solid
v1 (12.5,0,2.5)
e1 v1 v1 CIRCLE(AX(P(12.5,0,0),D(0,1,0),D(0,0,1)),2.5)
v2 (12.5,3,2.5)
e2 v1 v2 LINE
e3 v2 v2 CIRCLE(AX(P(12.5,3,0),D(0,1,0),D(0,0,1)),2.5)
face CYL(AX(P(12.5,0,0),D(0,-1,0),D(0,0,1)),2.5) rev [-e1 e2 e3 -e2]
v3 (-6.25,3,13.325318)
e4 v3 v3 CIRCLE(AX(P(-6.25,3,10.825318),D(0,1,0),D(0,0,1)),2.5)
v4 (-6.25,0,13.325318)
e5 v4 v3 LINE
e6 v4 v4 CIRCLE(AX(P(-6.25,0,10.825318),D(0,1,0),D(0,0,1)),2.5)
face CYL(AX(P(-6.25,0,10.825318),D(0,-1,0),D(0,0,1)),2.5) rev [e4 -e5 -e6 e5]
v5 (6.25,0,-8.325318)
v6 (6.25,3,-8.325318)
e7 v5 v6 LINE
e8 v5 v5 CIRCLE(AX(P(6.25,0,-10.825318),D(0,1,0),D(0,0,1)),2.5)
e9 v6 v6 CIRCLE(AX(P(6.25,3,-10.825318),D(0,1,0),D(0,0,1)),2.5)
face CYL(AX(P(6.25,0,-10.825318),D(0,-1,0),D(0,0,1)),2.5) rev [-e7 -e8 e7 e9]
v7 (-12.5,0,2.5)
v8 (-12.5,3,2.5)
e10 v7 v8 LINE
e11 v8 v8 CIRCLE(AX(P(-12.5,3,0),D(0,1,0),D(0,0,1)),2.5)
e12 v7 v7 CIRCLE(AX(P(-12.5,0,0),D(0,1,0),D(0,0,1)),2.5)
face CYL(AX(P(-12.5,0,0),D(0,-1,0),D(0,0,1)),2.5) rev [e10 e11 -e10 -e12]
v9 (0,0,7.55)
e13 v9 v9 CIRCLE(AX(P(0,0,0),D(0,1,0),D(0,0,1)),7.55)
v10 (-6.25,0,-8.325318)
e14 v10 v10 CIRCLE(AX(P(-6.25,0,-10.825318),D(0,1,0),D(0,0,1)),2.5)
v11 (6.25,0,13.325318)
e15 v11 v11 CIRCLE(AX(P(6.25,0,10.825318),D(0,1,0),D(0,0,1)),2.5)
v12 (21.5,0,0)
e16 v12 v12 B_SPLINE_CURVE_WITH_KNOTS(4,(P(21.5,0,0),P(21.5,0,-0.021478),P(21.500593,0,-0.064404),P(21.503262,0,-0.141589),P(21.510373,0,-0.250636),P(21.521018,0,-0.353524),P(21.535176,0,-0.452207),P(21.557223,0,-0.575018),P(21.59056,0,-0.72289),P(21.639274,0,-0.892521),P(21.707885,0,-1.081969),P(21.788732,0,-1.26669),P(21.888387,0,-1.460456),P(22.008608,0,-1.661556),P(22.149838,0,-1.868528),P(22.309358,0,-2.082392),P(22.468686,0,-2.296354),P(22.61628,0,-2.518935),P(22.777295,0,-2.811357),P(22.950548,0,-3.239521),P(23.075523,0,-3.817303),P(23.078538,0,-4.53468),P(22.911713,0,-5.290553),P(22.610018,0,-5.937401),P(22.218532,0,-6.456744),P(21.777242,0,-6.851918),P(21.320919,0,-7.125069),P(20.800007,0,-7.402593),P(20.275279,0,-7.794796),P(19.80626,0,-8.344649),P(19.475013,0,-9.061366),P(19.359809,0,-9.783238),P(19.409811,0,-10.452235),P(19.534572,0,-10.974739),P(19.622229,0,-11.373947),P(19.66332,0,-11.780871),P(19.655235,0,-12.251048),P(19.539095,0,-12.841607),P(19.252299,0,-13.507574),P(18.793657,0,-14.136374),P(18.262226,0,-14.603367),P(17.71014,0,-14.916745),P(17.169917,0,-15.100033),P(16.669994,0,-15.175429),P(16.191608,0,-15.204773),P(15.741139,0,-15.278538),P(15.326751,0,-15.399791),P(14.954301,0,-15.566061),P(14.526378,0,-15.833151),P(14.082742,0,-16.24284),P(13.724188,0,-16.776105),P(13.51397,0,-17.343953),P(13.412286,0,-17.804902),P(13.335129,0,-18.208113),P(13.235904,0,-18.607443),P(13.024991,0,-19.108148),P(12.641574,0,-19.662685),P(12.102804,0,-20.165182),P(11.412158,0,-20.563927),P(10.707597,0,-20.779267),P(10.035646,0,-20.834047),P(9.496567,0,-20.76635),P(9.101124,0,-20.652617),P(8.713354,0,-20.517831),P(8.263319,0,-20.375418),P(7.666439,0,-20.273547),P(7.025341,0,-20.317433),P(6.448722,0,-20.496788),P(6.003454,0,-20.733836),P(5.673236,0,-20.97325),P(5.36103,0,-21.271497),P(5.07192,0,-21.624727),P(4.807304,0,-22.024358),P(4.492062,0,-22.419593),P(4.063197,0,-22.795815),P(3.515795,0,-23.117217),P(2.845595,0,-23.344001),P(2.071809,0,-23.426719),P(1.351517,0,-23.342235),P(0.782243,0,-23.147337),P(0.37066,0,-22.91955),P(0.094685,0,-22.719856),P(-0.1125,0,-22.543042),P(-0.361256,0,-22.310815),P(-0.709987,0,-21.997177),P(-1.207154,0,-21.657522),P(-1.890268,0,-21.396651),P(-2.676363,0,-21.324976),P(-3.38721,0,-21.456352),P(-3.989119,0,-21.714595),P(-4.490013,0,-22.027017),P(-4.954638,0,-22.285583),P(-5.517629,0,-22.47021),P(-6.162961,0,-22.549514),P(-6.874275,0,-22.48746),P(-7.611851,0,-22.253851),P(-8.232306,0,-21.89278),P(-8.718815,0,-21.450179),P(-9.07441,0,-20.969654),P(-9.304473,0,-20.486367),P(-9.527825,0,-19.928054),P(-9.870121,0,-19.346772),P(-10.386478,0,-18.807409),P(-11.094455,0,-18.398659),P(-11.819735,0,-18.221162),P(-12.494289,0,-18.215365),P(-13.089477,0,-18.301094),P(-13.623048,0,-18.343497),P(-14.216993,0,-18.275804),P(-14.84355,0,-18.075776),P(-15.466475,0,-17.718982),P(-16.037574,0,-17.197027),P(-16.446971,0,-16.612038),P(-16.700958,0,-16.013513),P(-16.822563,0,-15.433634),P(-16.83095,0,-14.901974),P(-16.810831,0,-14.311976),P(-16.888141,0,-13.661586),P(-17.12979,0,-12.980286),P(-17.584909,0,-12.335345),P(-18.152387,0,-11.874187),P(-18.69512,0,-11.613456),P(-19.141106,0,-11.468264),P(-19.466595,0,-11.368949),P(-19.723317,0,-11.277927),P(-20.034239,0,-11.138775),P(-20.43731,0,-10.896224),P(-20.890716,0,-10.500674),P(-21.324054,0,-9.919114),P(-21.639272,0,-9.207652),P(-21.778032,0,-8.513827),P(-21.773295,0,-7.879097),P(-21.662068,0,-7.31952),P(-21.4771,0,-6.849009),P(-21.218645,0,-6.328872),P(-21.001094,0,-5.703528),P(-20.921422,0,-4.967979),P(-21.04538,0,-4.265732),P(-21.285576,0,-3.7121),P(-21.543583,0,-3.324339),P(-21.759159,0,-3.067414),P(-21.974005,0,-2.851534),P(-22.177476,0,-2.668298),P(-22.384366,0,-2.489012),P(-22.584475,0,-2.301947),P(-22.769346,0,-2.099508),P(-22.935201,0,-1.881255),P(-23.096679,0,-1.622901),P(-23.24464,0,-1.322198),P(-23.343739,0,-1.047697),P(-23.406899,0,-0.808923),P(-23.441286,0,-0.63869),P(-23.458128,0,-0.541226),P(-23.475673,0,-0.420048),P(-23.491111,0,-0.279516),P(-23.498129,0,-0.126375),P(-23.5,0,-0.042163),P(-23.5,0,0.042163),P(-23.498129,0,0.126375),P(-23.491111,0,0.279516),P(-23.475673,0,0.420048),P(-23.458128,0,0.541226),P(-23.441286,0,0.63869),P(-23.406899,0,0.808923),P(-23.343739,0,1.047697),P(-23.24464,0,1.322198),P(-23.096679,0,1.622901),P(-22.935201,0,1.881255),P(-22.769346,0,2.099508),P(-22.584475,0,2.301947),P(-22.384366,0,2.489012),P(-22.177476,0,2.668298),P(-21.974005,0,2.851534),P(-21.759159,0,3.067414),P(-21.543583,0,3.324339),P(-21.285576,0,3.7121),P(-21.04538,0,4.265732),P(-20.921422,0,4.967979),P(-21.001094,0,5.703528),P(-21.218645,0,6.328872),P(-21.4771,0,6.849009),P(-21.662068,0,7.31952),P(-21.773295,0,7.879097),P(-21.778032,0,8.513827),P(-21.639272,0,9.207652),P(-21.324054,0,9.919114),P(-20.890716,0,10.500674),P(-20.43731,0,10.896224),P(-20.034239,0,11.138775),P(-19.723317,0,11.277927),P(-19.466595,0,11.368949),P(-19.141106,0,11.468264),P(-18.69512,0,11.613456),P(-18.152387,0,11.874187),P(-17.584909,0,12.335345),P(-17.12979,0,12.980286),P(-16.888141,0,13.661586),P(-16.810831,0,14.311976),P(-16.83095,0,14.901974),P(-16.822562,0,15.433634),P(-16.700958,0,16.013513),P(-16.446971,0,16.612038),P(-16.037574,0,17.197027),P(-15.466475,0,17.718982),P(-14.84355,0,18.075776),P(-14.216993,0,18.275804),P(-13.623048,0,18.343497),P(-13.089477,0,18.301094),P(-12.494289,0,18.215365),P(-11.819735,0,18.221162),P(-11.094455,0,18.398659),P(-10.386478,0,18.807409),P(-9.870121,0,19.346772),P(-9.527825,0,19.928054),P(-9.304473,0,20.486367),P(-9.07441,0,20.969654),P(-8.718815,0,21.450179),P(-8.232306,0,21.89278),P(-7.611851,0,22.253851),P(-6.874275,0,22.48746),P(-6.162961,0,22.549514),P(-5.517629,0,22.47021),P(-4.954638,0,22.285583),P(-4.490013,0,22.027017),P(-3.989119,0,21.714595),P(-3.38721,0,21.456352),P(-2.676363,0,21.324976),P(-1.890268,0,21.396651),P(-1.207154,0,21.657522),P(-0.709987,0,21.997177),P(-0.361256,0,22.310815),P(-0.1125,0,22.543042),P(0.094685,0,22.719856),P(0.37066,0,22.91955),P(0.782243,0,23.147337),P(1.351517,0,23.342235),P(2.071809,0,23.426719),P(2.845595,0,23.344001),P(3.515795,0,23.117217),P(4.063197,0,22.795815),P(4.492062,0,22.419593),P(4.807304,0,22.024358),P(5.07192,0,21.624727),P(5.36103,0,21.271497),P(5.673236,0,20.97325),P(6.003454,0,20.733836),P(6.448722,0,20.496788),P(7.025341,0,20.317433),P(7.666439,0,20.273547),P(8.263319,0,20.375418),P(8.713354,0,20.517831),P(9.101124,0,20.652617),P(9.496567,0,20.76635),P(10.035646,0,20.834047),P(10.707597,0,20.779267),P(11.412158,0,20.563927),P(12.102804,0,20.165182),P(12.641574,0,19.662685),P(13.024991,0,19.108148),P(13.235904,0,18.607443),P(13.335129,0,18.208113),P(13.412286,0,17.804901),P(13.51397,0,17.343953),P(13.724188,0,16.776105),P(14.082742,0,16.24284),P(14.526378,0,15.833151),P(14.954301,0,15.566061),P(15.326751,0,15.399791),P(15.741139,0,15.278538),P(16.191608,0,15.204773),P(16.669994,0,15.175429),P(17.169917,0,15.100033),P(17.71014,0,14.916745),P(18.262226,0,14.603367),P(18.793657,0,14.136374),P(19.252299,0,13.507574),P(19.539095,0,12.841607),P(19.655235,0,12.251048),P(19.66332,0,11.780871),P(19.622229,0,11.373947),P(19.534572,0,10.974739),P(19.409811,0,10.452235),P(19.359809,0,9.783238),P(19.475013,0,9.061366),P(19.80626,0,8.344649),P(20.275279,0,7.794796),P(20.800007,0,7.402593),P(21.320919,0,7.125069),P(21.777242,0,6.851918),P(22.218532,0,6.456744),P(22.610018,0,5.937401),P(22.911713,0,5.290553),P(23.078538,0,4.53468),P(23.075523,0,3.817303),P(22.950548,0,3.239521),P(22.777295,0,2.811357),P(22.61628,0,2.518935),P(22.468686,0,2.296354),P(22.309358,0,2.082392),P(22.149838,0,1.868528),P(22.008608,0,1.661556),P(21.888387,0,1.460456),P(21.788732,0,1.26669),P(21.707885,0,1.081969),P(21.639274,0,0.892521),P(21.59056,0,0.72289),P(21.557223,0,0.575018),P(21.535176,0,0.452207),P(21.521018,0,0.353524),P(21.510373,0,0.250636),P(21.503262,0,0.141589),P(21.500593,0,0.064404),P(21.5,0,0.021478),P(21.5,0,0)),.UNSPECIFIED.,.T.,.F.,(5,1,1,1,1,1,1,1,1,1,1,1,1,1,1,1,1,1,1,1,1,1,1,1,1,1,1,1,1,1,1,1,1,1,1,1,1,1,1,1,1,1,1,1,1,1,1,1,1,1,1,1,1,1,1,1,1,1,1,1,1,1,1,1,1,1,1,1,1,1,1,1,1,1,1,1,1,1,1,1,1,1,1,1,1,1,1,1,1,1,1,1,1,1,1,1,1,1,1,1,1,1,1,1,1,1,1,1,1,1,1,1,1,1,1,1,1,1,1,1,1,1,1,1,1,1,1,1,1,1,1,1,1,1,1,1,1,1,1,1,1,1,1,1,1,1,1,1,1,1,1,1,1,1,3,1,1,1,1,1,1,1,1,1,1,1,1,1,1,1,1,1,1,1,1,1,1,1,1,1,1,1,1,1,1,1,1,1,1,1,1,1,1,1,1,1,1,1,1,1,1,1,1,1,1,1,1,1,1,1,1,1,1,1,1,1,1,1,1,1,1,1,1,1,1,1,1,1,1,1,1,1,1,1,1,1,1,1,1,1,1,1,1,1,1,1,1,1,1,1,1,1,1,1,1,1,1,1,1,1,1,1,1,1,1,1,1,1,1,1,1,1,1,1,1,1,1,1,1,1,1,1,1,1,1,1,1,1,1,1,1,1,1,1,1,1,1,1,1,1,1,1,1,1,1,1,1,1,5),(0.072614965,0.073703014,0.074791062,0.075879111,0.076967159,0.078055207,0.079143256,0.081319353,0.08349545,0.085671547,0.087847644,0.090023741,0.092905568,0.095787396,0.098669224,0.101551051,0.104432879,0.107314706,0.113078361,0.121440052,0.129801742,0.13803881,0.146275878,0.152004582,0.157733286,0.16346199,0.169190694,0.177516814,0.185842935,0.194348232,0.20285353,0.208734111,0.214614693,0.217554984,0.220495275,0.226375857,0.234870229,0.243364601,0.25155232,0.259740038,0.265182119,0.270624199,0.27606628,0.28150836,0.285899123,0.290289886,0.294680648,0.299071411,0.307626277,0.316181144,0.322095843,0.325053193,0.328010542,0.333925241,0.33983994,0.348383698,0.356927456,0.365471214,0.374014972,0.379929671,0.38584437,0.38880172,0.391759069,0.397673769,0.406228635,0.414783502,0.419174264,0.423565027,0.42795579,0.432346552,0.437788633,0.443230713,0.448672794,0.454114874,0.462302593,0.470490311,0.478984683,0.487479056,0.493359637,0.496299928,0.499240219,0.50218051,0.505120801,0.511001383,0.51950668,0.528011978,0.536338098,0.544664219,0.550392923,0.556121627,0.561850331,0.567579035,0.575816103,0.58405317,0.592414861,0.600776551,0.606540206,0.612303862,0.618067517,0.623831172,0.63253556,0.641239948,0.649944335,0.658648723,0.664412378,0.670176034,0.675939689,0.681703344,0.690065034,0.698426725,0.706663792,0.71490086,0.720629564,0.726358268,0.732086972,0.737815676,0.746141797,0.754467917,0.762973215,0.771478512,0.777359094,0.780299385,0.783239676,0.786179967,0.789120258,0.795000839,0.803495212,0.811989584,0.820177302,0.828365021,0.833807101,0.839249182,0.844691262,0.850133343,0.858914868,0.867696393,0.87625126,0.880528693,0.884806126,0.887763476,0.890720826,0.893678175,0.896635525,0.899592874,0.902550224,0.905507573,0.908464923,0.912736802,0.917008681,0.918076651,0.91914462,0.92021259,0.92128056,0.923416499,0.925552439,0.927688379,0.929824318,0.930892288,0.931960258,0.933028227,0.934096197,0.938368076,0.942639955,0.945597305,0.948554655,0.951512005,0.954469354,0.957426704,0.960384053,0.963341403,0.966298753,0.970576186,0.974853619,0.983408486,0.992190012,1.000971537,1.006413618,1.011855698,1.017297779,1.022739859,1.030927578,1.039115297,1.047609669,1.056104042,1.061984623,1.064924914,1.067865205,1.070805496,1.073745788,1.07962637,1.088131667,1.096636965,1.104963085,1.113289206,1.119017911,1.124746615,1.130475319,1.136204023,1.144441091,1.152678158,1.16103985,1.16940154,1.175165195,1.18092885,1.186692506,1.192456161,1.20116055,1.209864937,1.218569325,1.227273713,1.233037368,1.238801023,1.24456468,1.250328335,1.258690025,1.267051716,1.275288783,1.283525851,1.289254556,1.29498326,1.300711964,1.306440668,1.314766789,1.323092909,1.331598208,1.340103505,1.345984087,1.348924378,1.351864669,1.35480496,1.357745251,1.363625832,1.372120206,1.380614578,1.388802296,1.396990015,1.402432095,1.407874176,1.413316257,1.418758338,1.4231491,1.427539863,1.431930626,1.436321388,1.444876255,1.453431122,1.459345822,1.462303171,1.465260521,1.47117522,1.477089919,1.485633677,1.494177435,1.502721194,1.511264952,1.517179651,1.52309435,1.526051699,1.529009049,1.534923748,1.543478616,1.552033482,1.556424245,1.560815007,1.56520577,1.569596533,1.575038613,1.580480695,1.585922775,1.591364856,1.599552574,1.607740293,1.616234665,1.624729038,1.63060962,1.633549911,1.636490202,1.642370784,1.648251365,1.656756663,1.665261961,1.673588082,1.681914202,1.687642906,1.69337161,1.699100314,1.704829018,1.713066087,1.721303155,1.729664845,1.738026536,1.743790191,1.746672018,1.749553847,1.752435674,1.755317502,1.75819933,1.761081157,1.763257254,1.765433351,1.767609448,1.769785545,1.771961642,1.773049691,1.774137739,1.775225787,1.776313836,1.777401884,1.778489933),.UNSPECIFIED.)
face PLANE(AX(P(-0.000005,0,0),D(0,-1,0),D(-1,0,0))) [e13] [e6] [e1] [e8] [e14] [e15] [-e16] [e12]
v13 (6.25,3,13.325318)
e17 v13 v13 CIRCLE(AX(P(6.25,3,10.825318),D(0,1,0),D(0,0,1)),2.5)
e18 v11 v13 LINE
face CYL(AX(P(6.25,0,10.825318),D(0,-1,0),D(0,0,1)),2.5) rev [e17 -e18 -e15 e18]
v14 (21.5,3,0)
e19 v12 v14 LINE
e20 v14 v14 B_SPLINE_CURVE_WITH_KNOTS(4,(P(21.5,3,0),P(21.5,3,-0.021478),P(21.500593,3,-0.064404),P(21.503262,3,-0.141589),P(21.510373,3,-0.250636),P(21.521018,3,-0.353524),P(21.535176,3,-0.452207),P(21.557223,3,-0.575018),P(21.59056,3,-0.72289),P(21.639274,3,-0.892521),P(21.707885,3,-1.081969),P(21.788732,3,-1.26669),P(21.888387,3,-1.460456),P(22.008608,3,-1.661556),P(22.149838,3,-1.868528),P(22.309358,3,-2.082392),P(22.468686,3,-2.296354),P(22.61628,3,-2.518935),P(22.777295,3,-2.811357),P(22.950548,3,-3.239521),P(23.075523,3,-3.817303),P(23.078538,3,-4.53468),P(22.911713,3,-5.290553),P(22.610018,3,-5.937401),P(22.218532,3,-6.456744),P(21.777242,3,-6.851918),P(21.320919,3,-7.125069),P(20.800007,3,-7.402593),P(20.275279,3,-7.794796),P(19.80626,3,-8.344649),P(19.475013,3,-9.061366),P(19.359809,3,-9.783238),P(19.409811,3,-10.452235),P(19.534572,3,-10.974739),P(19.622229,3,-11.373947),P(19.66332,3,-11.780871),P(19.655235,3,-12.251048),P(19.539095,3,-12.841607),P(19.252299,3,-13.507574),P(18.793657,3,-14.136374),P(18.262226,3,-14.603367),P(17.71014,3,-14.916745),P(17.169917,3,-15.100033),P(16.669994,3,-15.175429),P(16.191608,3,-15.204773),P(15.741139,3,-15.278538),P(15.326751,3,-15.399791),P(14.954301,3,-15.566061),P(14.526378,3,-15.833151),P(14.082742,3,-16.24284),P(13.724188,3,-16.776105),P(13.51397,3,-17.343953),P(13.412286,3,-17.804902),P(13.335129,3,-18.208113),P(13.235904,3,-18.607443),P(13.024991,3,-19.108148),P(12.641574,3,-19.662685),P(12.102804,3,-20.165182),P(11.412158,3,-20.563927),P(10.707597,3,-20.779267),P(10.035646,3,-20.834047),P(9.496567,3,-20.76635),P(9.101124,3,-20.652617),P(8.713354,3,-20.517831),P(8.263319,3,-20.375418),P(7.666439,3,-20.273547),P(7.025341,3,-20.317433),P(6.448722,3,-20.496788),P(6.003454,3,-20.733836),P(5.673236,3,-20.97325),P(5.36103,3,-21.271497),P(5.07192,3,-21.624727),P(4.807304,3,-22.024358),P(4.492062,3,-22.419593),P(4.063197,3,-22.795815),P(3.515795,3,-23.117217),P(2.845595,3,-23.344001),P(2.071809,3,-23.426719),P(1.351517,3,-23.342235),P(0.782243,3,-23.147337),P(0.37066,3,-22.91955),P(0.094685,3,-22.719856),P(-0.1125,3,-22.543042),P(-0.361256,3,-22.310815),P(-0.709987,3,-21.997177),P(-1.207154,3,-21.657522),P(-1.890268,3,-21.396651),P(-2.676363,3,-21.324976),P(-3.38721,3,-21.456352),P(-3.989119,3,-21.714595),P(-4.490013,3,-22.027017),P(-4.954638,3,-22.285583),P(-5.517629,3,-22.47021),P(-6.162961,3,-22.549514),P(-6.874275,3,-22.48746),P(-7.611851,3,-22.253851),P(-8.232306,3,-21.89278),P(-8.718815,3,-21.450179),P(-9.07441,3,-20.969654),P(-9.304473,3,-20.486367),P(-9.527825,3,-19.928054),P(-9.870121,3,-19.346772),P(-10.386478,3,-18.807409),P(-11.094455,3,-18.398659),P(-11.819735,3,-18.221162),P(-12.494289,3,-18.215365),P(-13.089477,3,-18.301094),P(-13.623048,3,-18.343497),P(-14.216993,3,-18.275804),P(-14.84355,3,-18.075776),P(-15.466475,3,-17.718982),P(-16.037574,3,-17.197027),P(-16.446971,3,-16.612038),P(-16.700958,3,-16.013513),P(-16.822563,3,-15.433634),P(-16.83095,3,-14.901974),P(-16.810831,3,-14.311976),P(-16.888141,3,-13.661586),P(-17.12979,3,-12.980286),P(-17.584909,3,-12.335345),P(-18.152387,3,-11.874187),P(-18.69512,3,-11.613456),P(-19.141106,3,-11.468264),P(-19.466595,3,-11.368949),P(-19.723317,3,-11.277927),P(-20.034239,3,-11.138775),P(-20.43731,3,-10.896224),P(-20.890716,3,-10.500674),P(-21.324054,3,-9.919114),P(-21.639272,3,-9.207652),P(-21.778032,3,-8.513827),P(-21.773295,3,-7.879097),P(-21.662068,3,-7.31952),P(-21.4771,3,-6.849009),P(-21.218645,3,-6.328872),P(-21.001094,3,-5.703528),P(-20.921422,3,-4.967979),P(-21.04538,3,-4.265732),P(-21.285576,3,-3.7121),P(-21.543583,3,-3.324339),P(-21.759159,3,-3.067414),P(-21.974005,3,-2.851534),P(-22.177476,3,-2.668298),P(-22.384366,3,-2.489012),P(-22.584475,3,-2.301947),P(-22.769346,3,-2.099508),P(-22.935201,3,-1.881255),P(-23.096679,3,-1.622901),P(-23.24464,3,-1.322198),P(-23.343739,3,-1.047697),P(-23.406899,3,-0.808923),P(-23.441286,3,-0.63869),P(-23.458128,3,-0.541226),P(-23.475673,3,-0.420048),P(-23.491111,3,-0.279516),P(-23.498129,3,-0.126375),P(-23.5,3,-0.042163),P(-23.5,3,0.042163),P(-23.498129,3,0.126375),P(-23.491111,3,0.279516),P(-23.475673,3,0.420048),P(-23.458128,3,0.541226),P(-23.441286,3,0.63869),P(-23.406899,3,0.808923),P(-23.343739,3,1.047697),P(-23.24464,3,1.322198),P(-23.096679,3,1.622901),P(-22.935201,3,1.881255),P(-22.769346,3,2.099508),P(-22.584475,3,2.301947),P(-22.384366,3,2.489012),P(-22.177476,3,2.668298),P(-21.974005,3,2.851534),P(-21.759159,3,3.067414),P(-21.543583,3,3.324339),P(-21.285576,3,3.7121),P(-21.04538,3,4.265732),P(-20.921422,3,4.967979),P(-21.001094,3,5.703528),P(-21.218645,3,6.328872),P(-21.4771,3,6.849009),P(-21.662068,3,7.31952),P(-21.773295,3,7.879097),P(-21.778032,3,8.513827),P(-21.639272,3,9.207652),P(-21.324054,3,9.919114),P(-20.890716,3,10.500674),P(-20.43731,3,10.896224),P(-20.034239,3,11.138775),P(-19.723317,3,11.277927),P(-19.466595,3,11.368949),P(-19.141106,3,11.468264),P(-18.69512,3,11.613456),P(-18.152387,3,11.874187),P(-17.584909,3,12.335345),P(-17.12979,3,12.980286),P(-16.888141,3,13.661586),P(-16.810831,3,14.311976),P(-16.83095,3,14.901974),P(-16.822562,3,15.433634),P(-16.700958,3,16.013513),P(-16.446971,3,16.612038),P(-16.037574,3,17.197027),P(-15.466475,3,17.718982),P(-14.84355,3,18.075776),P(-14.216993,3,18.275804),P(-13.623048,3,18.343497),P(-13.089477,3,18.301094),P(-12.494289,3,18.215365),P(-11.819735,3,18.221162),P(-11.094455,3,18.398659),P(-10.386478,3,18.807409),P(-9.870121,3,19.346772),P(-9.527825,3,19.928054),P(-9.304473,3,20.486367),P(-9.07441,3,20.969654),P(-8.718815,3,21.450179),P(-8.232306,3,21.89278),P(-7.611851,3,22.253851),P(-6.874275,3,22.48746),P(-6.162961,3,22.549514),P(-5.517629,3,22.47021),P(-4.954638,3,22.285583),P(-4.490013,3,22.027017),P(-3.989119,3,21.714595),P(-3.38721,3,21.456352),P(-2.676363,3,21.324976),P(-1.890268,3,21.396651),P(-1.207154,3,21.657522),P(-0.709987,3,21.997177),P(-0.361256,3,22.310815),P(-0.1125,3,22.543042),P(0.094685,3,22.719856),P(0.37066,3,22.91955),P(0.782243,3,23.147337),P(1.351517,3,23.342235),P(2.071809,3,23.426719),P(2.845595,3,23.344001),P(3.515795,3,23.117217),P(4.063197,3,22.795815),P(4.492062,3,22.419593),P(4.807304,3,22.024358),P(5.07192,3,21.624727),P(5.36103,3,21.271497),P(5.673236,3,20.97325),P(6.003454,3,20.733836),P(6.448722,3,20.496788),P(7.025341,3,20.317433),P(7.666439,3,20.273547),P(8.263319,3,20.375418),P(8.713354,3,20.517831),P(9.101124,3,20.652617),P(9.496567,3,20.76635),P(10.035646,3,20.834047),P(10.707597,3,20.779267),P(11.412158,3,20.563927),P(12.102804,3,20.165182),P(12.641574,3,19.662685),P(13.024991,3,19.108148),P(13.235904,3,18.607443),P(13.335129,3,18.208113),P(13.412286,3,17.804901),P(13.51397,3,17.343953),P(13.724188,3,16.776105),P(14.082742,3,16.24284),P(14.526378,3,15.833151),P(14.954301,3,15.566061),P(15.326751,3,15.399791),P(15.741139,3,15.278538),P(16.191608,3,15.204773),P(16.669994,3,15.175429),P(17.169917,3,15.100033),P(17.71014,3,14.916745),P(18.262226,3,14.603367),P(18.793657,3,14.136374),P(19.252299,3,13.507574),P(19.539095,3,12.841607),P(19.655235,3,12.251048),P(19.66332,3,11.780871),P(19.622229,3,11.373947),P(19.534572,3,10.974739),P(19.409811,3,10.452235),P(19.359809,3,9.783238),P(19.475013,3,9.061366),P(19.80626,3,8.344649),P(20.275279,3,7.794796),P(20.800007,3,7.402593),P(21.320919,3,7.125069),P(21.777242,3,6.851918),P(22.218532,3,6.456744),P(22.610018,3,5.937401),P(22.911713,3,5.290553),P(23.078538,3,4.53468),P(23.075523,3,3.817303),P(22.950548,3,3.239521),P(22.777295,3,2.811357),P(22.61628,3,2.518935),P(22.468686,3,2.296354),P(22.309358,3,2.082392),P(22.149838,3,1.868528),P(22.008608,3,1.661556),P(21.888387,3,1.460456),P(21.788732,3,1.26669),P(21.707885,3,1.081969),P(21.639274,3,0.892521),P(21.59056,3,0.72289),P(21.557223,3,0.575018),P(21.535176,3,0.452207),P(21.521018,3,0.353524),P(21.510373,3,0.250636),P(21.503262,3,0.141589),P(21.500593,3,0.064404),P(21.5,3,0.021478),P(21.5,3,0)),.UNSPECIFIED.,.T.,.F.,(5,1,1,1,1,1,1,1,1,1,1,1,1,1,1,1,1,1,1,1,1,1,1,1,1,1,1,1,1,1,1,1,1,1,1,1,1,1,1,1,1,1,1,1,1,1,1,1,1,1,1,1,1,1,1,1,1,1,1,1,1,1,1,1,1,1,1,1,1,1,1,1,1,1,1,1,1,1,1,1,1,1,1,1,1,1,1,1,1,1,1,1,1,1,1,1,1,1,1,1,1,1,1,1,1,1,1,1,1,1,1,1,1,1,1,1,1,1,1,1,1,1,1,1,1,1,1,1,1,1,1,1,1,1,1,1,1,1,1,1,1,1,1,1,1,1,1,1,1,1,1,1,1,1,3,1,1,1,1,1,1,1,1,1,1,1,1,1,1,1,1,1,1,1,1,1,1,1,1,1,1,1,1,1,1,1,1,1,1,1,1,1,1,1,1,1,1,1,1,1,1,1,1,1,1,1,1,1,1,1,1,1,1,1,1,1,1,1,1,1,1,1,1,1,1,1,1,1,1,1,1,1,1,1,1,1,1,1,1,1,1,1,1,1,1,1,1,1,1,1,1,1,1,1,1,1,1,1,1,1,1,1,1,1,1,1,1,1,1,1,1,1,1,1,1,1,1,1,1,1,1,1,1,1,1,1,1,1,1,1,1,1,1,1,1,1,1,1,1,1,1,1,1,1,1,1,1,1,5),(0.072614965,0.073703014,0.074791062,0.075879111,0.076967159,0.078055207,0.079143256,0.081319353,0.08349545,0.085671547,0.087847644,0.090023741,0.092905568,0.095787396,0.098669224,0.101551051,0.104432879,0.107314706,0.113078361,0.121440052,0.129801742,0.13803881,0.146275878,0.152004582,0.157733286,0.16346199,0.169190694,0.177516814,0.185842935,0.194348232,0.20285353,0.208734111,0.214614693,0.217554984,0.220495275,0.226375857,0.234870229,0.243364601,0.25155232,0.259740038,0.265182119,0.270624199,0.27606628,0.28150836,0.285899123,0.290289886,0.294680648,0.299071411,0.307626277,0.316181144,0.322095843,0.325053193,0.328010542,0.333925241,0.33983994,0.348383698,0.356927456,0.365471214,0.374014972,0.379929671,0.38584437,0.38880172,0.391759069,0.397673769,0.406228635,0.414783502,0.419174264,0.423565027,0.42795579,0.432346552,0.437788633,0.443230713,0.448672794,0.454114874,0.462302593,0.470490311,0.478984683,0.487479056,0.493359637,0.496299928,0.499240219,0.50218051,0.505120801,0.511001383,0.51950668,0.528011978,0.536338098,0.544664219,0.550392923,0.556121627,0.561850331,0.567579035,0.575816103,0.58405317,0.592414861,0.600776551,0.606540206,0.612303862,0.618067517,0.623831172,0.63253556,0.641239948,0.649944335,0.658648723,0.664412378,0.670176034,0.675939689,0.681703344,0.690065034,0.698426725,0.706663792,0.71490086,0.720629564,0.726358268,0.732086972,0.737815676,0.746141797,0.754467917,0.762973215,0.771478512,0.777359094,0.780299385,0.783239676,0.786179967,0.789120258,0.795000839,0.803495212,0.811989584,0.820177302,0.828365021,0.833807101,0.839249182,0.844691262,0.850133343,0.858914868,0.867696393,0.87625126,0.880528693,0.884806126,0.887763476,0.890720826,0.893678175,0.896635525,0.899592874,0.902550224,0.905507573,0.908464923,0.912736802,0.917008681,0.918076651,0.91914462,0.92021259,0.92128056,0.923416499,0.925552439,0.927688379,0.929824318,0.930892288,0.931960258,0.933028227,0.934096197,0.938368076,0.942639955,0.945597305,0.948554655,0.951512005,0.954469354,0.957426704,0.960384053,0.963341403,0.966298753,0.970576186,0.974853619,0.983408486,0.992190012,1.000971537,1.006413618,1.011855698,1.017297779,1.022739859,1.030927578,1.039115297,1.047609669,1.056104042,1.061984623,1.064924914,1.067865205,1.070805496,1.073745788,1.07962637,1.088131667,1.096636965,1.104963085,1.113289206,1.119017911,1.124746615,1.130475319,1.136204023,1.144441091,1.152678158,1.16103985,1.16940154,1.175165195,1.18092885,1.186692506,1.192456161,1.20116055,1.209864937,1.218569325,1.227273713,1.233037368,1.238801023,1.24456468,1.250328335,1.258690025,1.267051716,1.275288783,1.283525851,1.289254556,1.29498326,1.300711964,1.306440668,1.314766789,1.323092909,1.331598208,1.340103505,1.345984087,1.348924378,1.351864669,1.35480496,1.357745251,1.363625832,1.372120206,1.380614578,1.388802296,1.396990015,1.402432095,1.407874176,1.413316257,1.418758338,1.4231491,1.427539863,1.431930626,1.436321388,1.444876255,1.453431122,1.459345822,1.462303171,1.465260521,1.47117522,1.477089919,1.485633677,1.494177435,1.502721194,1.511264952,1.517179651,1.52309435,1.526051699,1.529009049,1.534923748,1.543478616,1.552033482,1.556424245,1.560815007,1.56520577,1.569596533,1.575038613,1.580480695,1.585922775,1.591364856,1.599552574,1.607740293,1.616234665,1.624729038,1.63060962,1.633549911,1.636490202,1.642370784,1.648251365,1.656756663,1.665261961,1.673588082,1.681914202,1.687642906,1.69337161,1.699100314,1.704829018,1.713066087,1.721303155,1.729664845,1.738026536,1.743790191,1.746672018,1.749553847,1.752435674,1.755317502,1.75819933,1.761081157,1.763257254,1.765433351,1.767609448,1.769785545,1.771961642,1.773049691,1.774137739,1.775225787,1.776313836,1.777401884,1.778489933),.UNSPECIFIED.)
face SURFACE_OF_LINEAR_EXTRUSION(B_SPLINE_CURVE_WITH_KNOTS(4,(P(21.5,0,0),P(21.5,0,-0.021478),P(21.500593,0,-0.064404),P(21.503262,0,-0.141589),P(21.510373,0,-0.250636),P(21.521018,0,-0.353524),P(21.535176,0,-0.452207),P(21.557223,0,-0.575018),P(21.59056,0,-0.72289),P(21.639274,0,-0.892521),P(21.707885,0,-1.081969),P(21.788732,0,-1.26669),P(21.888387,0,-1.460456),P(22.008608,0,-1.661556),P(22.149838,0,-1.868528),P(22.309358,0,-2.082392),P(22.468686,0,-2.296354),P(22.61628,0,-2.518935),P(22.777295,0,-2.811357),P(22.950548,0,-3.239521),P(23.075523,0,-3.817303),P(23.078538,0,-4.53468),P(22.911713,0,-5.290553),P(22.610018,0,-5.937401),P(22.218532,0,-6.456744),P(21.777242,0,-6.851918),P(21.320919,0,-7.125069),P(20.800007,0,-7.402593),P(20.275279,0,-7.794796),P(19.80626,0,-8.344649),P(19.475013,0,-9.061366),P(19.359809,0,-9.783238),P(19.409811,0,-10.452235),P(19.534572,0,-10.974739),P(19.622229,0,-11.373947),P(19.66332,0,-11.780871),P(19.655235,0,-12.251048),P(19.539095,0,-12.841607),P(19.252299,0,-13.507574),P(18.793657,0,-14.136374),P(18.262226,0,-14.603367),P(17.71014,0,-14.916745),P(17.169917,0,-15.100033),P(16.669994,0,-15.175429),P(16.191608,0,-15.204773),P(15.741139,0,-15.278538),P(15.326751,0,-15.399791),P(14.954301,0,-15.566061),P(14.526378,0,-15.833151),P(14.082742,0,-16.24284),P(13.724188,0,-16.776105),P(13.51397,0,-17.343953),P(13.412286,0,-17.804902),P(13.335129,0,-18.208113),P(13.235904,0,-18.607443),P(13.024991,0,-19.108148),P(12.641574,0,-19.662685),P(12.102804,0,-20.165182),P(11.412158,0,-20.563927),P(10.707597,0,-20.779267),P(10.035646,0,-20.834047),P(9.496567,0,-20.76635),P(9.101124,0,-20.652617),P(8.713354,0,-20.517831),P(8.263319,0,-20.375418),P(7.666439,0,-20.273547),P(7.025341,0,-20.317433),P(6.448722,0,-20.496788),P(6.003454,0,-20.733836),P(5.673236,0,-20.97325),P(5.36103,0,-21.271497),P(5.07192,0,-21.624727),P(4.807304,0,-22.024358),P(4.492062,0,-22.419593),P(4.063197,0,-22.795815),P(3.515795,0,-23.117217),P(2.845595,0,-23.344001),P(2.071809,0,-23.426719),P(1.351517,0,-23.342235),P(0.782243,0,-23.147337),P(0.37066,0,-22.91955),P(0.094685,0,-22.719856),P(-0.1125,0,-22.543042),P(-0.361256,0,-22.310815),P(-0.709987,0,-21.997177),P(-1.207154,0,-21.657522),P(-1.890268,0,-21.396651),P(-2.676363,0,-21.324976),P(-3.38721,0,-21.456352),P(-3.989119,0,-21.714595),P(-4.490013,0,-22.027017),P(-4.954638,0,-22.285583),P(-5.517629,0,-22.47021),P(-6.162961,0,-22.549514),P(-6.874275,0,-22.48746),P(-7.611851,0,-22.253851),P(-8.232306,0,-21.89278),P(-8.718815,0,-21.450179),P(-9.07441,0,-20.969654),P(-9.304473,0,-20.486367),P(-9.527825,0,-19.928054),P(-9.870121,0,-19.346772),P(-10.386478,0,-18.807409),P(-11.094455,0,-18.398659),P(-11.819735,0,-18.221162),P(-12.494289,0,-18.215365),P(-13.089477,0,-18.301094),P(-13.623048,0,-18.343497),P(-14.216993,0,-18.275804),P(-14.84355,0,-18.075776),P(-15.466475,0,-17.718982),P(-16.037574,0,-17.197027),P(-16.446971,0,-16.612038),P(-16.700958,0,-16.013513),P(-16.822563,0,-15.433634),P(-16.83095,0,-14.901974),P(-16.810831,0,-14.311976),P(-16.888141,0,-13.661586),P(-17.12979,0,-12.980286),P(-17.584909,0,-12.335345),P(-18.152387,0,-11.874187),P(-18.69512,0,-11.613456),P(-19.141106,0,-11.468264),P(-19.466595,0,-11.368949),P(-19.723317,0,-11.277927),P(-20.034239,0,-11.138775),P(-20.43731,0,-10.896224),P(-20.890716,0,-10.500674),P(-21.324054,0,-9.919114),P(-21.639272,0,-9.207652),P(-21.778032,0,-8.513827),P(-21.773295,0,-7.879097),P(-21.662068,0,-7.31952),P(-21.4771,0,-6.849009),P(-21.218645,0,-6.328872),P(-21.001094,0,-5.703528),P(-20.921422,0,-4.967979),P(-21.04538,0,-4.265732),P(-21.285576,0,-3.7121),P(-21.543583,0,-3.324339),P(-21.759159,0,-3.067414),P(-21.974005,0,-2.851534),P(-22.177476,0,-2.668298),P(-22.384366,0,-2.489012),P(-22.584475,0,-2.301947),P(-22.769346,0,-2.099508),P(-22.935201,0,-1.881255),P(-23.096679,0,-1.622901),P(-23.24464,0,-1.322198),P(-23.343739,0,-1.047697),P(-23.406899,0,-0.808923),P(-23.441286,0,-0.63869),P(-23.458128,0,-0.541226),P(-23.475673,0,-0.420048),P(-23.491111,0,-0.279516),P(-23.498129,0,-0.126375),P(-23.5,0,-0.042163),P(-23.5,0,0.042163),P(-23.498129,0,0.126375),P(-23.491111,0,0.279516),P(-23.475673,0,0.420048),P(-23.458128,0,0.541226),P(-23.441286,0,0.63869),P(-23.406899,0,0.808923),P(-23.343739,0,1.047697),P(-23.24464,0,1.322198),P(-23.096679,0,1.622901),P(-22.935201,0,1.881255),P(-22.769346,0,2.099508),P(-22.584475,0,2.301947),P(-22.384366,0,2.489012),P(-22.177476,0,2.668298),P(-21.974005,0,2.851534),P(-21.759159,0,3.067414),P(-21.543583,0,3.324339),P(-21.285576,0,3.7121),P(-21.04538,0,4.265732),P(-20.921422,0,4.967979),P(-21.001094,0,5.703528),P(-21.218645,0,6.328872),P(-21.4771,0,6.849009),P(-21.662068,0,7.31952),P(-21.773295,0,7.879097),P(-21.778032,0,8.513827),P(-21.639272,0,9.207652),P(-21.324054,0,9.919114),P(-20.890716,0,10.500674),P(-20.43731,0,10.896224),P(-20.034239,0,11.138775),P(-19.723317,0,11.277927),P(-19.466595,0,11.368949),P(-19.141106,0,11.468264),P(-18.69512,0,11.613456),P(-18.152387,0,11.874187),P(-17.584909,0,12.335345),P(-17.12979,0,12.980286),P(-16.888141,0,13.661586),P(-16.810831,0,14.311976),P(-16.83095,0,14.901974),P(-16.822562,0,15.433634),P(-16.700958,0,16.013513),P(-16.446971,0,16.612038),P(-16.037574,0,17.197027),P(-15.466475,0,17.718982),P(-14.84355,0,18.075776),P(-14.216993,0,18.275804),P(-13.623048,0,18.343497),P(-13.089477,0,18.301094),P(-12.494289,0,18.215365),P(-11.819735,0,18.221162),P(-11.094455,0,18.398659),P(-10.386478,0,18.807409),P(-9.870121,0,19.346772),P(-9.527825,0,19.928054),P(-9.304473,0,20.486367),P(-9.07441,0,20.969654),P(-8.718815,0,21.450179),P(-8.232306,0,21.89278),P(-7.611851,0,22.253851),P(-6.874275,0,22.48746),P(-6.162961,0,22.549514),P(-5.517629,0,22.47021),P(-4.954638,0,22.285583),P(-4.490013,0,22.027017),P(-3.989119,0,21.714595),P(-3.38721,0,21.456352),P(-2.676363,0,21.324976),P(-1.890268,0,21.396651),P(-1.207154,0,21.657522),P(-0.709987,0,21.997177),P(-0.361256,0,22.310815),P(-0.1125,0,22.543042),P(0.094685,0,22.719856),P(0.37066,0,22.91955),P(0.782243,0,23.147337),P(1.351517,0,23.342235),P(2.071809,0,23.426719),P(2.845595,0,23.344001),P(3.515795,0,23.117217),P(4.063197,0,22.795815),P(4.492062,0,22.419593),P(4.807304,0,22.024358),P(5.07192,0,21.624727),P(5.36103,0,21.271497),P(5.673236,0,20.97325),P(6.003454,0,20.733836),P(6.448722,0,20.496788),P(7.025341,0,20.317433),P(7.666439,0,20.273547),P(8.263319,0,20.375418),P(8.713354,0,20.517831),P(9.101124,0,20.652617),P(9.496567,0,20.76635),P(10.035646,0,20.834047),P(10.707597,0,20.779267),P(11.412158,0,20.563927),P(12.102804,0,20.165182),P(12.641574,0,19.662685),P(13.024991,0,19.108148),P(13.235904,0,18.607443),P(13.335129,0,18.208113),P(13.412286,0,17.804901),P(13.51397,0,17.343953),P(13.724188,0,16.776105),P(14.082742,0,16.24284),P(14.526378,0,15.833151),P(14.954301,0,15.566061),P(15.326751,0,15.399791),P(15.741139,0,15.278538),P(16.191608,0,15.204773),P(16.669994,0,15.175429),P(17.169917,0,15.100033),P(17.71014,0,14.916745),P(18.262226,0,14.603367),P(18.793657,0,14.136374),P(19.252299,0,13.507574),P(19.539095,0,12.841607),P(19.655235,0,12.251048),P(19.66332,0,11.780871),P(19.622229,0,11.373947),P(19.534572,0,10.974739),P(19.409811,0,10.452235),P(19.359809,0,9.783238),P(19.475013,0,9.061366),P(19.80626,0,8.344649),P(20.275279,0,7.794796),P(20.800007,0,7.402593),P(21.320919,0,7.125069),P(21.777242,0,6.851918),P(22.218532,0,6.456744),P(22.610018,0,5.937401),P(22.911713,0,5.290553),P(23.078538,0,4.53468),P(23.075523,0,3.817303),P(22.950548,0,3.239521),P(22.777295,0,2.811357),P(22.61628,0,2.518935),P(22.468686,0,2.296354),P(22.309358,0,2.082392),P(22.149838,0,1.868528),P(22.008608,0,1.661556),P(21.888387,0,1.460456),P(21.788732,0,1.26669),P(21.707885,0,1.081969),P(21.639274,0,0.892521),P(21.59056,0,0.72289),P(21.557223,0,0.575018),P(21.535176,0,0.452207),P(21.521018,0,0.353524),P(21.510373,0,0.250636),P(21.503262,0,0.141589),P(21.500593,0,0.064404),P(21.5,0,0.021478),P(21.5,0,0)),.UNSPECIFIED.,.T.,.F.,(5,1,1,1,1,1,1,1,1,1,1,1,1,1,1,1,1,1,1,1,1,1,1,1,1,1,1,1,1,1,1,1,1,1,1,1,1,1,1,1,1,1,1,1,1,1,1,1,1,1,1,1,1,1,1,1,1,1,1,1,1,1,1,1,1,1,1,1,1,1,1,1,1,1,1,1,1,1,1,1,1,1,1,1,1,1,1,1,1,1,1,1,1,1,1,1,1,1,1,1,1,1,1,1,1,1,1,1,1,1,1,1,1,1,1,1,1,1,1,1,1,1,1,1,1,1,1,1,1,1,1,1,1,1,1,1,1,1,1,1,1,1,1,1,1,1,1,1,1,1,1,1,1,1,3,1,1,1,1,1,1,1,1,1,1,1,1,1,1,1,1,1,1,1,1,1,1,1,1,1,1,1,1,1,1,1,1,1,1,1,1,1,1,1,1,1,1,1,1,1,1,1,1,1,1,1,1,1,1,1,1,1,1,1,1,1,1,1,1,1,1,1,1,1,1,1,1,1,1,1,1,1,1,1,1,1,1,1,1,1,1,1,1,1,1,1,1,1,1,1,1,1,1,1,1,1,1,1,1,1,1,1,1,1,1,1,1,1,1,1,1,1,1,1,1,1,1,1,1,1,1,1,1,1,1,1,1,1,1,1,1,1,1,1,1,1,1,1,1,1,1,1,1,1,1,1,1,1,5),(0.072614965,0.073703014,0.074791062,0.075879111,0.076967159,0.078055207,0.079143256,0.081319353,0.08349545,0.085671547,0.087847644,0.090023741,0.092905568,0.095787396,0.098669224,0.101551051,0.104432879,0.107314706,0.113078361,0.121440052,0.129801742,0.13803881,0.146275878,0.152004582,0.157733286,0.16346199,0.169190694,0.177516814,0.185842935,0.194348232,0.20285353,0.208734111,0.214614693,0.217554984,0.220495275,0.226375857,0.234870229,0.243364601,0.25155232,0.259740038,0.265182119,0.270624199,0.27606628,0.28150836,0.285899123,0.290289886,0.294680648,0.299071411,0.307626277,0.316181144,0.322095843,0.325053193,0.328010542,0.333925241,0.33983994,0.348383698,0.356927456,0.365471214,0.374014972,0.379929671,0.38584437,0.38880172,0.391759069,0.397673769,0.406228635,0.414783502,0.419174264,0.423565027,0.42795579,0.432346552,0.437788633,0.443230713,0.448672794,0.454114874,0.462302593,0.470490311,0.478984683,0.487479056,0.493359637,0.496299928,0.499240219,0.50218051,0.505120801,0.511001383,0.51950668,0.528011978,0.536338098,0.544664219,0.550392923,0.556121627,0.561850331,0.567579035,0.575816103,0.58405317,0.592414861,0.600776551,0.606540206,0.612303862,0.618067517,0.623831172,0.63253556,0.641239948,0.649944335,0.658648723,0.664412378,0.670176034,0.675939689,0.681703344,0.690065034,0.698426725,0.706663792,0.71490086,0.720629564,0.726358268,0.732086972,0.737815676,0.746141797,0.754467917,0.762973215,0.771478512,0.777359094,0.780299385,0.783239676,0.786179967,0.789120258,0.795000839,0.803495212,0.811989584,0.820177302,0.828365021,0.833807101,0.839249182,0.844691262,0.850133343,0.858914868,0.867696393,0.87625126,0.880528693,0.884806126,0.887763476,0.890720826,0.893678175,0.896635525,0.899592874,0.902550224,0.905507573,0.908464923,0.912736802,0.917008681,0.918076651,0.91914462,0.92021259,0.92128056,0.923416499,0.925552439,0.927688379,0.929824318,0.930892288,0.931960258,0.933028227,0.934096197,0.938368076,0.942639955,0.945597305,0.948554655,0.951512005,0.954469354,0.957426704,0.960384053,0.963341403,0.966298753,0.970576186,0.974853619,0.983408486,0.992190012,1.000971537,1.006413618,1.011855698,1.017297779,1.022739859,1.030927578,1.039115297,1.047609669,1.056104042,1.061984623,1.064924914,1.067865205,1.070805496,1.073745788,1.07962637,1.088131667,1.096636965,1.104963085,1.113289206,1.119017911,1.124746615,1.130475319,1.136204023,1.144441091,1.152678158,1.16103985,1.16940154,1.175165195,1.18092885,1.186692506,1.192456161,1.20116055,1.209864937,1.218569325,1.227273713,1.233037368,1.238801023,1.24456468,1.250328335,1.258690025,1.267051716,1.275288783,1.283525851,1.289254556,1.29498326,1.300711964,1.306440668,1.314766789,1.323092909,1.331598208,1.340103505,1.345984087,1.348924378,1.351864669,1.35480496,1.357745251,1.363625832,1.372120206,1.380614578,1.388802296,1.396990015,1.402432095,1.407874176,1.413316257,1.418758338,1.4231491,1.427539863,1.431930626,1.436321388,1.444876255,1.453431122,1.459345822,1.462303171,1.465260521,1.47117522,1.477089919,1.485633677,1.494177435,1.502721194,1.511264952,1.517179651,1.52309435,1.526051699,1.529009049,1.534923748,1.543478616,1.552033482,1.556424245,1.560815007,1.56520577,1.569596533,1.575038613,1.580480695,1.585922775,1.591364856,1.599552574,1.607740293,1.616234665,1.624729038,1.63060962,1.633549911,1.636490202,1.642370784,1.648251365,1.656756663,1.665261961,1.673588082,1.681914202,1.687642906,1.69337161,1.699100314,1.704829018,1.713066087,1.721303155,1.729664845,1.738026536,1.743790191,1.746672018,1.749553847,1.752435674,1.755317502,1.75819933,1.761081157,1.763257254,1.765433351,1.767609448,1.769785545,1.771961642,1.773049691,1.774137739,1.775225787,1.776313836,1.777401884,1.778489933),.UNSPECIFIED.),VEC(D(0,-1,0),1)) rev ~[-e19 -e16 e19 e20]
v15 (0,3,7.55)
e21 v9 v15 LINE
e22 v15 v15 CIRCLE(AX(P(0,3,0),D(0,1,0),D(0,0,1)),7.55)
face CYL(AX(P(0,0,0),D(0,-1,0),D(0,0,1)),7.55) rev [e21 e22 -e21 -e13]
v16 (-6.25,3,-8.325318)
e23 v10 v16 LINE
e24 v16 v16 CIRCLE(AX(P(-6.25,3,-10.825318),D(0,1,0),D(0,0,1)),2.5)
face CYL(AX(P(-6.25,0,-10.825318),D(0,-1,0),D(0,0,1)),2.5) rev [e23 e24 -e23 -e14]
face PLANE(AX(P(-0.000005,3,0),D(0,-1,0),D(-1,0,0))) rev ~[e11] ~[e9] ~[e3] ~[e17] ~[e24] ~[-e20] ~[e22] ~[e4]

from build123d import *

# Parameters (mm, degrees)
CROQUIS1_R              = 2.5
CROQUIS1_R_2            = 7.55
SALIENTE_EXTRUIR1_DEPTH = 3


with BuildPart() as part:
    # Croquis1 → Saliente-Extruir1 (new body)
    with BuildSketch(Plane(origin=(0, 0, 0), x_dir=(1, 0, 0), z_dir=(0, 1, 0))):
        with BuildLine():
            add(Edge.make_bspline(
                [(21.5, 6e-09), (21.5, -0.021477729), (21.500593167, -0.064403657), (21.503262416, -0.141588523), (21.510372598, -0.2506358), (21.521018274, -0.353523789), (21.535175808, -0.452206948), (21.557222906, -0.575017626), (21.590559678, -0.722889607), (21.639274228, -0.892521131), (21.707884543, -1.081968973), (21.78873173, -1.266690221), (21.888386964, -1.460455943), (22.008607626, -1.661555773), (22.149838228, -1.868528125), (22.309357779, -2.08239167), (22.468686481, -2.296354296), (22.616280308, -2.518934735), (22.777295322, -2.811357303), (22.950547935, -3.239521207), (23.075522685, -3.817302999), (23.078537532, -4.534680376), (22.911713253, -5.29055349), (22.610017793, -5.937401244), (22.218532391, -6.456743933), (21.777242179, -6.851918437), (21.32091858, -7.125069015), (20.800006514, -7.402592951), (20.275278853, -7.794795834), (19.806259526, -8.344649339), (19.47501305, -9.061365972), (19.359808776, -9.783237796), (19.409811075, -10.45223525), (19.534571948, -10.974738813), (19.622228568, -11.37394657), (19.66331962, -11.780870884), (19.655235202, -12.25104806), (19.539094715, -12.841606724), (19.252298774, -13.507573669), (18.793656717, -14.136374174), (18.262226158, -14.603366894), (17.710139852, -14.916745352), (17.169916613, -15.100032746), (16.669993727, -15.175429226), (16.191607921, -15.204772861), (15.741139447, -15.278537815), (15.326751026, -15.399790897), (14.95430103, -15.566061405), (14.526377994, -15.833151099), (14.082742171, -16.242840318), (13.724187686, -16.776104917), (13.513969977, -17.343953181), (13.412285649, -17.804901498), (13.335129122, -18.208112885), (13.235903541, -18.607442974), (13.024991152, -19.108148449), (12.641574276, -19.662684796), (12.102803702, -20.165182222), (11.412158232, -20.563926572), (10.707597414, -20.779266856), (10.035646399, -20.83404745), (9.496566569, -20.766350177), (9.101123729, -20.652617048), (8.713354253, -20.51783079), (8.26331895, -20.375418001), (7.666439407, -20.273547461), (7.02534099, -20.317432866), (6.448722445, -20.496787609), (6.003453554, -20.733835755), (5.673235715, -20.973250267), (5.36103011, -21.271497292), (5.071919671, -21.624726769), (4.807303774, -22.024358247), (4.49206196, -22.419593303), (4.063197476, -22.795814727), (3.515795305, -23.117216867), (2.845595233, -23.344001375), (2.071809166, -23.426718685), (1.351516933, -23.342234872), (0.782242843, -23.147337041), (0.370660405, -22.919550473), (0.094685369, -22.719855647), (-0.112499956, -22.543041557), (-0.361255998, -22.310815394), (-0.709987364, -21.997177169), (-1.207154424, -21.657522052), (-1.890267706, -21.396651069), (-2.676362953, -21.324976244), (-3.387209553, -21.456352261), (-3.989119414, -21.714595035), (-4.490013096, -22.027017012), (-4.95463778, -22.285583422), (-5.517629492, -22.470210474), (-6.162961234, -22.549513553), (-6.874275188, -22.487459807), (-7.611850898, -22.253851382), (-8.232306441, -21.892779921), (-8.718814605, -21.450179098), (-9.074410076, -20.96965434), (-9.30447343, -20.486366652), (-9.527824595, -19.92805394), (-9.870121296, -19.346772049), (-10.386478443, -18.807409124), (-11.094454857, -18.398658751), (-11.819735425, -18.221161807), (-12.49428866, -18.215365114), (-13.089477234, -18.301093688), (-13.623048326, -18.343496822), (-14.21699271, -18.27580449), (-14.843550347, -18.075776473), (-15.466475178, -17.718981941), (-16.037573861, -17.197026852), (-16.446970964, -16.612037769), (-16.700958346, -16.013512551), (-16.822562499, -15.433633895), (-16.830949734, -14.901973921), (-16.810831257, -14.311976259), (-16.888141304, -13.661585672), (-17.129789761, -12.980286404), (-17.584909408, -12.335345436), (-18.152387269, -11.874187352), (-18.695120227, -11.613455805), (-19.141105511, -11.468264348), (-19.466595489, -11.368949051), (-19.72331714, -11.277927034), (-20.034239483, -11.138775287), (-20.437309899, -10.896223894), (-20.890715901, -10.500673536), (-21.32405404, -9.919114011), (-21.639271927, -9.207651873), (-21.778031598, -8.513826596), (-21.773294873, -7.879097024), (-21.662068141, -7.319519537), (-21.477099649, -6.849009046), (-21.21864487, -6.328872243), (-21.001094133, -5.703528424), (-20.921421707, -4.967979091), (-21.045380365, -4.26573249), (-21.28557638, -3.712099987), (-21.5435831, -3.324338564), (-21.759158587, -3.06741441), (-21.974004689, -2.851533582), (-22.177475655, -2.6682982), (-22.384365506, -2.489012482), (-22.584474732, -2.301946971), (-22.769345598, -2.099508481), (-22.935201075, -1.881254997), (-23.0966794, -1.622900682), (-23.24464012, -1.322198439), (-23.343738868, -1.047696955), (-23.406898759, -0.80892307), (-23.441285745, -0.638690065), (-23.458128376, -0.541225552), (-23.475672645, -0.420048085), (-23.491111314, -0.279516), (-23.498128683, -0.126374918), (-23.5, -0.042162775), (-23.5, 0)],
                knots=[0.072614965, 0.072614965, 0.072614965, 0.072614965, 0.072614965, 0.073703014, 0.074791062, 0.075879111, 0.076967159, 0.078055207, 0.079143256, 0.081319353, 0.08349545, 0.085671547, 0.087847644, 0.090023741, 0.092905568, 0.095787396, 0.098669224, 0.101551051, 0.104432879, 0.107314706, 0.113078361, 0.121440052, 0.129801742, 0.13803881, 0.146275878, 0.152004582, 0.157733286, 0.16346199, 0.169190694, 0.177516814, 0.185842935, 0.194348232, 0.20285353, 0.208734111, 0.214614693, 0.217554984, 0.220495275, 0.226375857, 0.234870229, 0.243364601, 0.25155232, 0.259740038, 0.265182119, 0.270624199, 0.27606628, 0.28150836, 0.285899123, 0.290289886, 0.294680648, 0.299071411, 0.307626277, 0.316181144, 0.322095843, 0.325053193, 0.328010542, 0.333925241, 0.33983994, 0.348383698, 0.356927456, 0.365471214, 0.374014972, 0.379929671, 0.38584437, 0.38880172, 0.391759069, 0.397673769, 0.406228635, 0.414783502, 0.419174264, 0.423565027, 0.42795579, 0.432346552, 0.437788633, 0.443230713, 0.448672794, 0.454114874, 0.462302593, 0.470490311, 0.478984683, 0.487479056, 0.493359637, 0.496299928, 0.499240219, 0.50218051, 0.505120801, 0.511001383, 0.51950668, 0.528011978, 0.536338098, 0.544664219, 0.550392923, 0.556121627, 0.561850331, 0.567579035, 0.575816103, 0.58405317, 0.592414861, 0.600776551, 0.606540206, 0.612303862, 0.618067517, 0.623831172, 0.63253556, 0.641239948, 0.649944335, 0.658648723, 0.664412378, 0.670176034, 0.675939689, 0.681703344, 0.690065034, 0.698426725, 0.706663792, 0.71490086, 0.720629564, 0.726358268, 0.732086972, 0.737815676, 0.746141797, 0.754467917, 0.762973215, 0.771478512, 0.777359094, 0.780299385, 0.783239676, 0.786179967, 0.789120258, 0.795000839, 0.803495212, 0.811989584, 0.820177302, 0.828365021, 0.833807101, 0.839249182, 0.844691262, 0.850133343, 0.858914868, 0.867696393, 0.87625126, 0.880528693, 0.884806126, 0.887763476, 0.890720826, 0.893678175, 0.896635525, 0.899592874, 0.902550224, 0.905507573, 0.908464923, 0.912736802, 0.917008681, 0.918076651, 0.91914462, 0.92021259, 0.92128056, 0.923416499, 0.925552439, 0.925552439, 0.925552439, 0.925552439, 0.925552439], degree=4))
            add(Edge.make_bspline(
                [(21.5, 6e-09), (21.5, 0.021477735), (21.500593167, 0.064403663), (21.503262416, 0.141588528), (21.510372598, 0.250635805), (21.521018274, 0.353523794), (21.535175808, 0.452206954), (21.557222906, 0.575017631), (21.590559678, 0.722889613), (21.639274228, 0.892521136), (21.707884543, 1.081968978), (21.788731729, 1.266690226), (21.888386964, 1.460455948), (22.008607626, 1.661555778), (22.149838228, 1.86852813), (22.309357779, 2.082391676), (22.468686481, 2.296354301), (22.616280308, 2.518934741), (22.777295322, 2.811357309), (22.950547935, 3.239521212), (23.075522685, 3.817303005), (23.078537532, 4.534680382), (22.911713252, 5.290553496), (22.610017792, 5.937401249), (22.21853239, 6.456743939), (21.777242178, 6.851918442), (21.320918579, 7.12506902), (20.800006513, 7.402592956), (20.275278852, 7.794795839), (19.806259525, 8.344649344), (19.475013049, 9.061365977), (19.359808775, 9.783237801), (19.409811074, 10.452235255), (19.534571947, 10.974738818), (19.622228566, 11.373946575), (19.663319619, 11.780870889), (19.655235201, 12.251048065), (19.539094713, 12.841606729), (19.252298772, 13.507573674), (18.793656715, 14.136374179), (18.262226156, 14.603366898), (17.71013985, 14.916745357), (17.16991661, 15.100032751), (16.669993725, 15.175429231), (16.191607919, 15.204772865), (15.741139445, 15.27853782), (15.326751024, 15.399790901), (14.954301028, 15.566061409), (14.526377991, 15.833151104), (14.082742169, 16.242840322), (13.724187683, 16.776104921), (13.513969975, 17.343953186), (13.412285647, 17.804901503), (13.33512912, 18.20811289), (13.235903538, 18.607442978), (13.024991149, 19.108148453), (12.641574273, 19.6626848), (12.102803699, 20.165182226), (11.41215823, 20.563926576), (10.707597412, 20.77926686), (10.035646396, 20.834047454), (9.496566566, 20.766350181), (9.101123726, 20.652617052), (8.71335425, 20.517830793), (8.263318947, 20.375418004), (7.666439405, 20.273547465), (7.025340987, 20.317432869), (6.448722442, 20.496787613), (6.003453551, 20.733835759), (5.673235712, 20.97325027), (5.361030107, 21.271497296), (5.071919668, 21.624726772), (4.807303771, 22.02435825), (4.492061957, 22.419593306), (4.063197472, 22.79581473), (3.515795302, 23.11721687), (2.845595229, 23.344001378), (2.071809163, 23.426718687), (1.35151693, 23.342234874), (0.782242839, 23.147337044), (0.370660402, 22.919550475), (0.094685366, 22.719855649), (-0.112499959, 22.543041559), (-0.361256001, 22.310815396), (-0.709987367, 21.997177172), (-1.207154427, 21.657522054), (-1.890267709, 21.396651071), (-2.676362956, 21.324976246), (-3.387209556, 21.456352263), (-3.989119417, 21.714595036), (-4.490013099, 22.027017014), (-4.954637783, 22.285583424), (-5.517629495, 22.470210476), (-6.162961237, 22.549513555), (-6.874275191, 22.487459809), (-7.611850901, 22.253851383), (-8.232306444, 21.892779922), (-8.718814608, 21.450179099), (-9.074410079, 20.969654341), (-9.304473433, 20.486366653), (-9.527824597, 19.928053942), (-9.870121299, 19.34677205), (-10.386478445, 18.807409125), (-11.094454859, 18.398658752), (-11.819735428, 18.221161808), (-12.494288663, 18.215365115), (-13.089477237, 18.301093688), (-13.623048329, 18.343496823), (-14.216992712, 18.275804491), (-14.843550349, 18.075776474), (-15.466475181, 17.718981941), (-16.037573864, 17.197026853), (-16.446970966, 16.61203777), (-16.700958348, 16.013512551), (-16.822562501, 15.433633895), (-16.830949736, 14.901973921), (-16.810831259, 14.311976259), (-16.888141306, 13.661585672), (-17.129789762, 12.980286404), (-17.584909409, 12.335345436), (-18.152387271, 11.874187352), (-18.695120229, 11.613455805), (-19.141105513, 11.468264347), (-19.46659549, 11.368949051), (-19.723317141, 11.277927034), (-20.034239484, 11.138775286), (-20.4373099, 10.896223893), (-20.890715903, 10.500673536), (-21.324054042, 9.919114011), (-21.639271928, 9.207651873), (-21.778031599, 8.513826596), (-21.773294874, 7.879097023), (-21.662068142, 7.319519537), (-21.47709965, 6.849009045), (-21.218644871, 6.328872242), (-21.001094134, 5.703528423), (-20.921421708, 4.967979091), (-21.045380365, 4.26573249), (-21.28557638, 3.712099986), (-21.5435831, 3.324338564), (-21.759158587, 3.06741441), (-21.974004689, 2.851533582), (-22.177475655, 2.668298199), (-22.384365506, 2.489012482), (-22.584474732, 2.30194697), (-22.769345598, 2.09950848), (-22.935201076, 1.881254996), (-23.0966794, 1.622900681), (-23.24464012, 1.322198438), (-23.343738868, 1.047696955), (-23.406898759, 0.808923069), (-23.441285746, 0.638690065), (-23.458128376, 0.541225551), (-23.475672645, 0.420048084), (-23.491111314, 0.279515999), (-23.498128683, 0.126374917), (-23.5, 0.042162774), (-23.5, 0)],
                knots=[0.072614965, 0.072614965, 0.072614965, 0.072614965, 0.072614965, 0.073703014, 0.074791062, 0.075879111, 0.076967159, 0.078055207, 0.079143256, 0.081319353, 0.08349545, 0.085671547, 0.087847644, 0.090023741, 0.092905568, 0.095787396, 0.098669224, 0.101551051, 0.104432879, 0.107314706, 0.113078361, 0.121440052, 0.129801742, 0.13803881, 0.146275878, 0.152004582, 0.157733286, 0.16346199, 0.169190694, 0.177516814, 0.185842935, 0.194348232, 0.20285353, 0.208734111, 0.214614693, 0.217554984, 0.220495275, 0.226375857, 0.234870229, 0.243364601, 0.25155232, 0.259740038, 0.265182119, 0.270624199, 0.27606628, 0.28150836, 0.285899123, 0.290289886, 0.294680648, 0.299071411, 0.307626277, 0.316181144, 0.322095843, 0.325053193, 0.328010542, 0.333925241, 0.33983994, 0.348383698, 0.356927456, 0.365471214, 0.374014972, 0.379929671, 0.38584437, 0.38880172, 0.391759069, 0.397673769, 0.406228635, 0.414783502, 0.419174264, 0.423565027, 0.42795579, 0.432346552, 0.437788633, 0.443230713, 0.448672794, 0.454114874, 0.462302593, 0.470490311, 0.478984683, 0.487479056, 0.493359637, 0.496299928, 0.499240219, 0.50218051, 0.505120801, 0.511001383, 0.51950668, 0.528011978, 0.536338098, 0.544664219, 0.550392923, 0.556121627, 0.561850331, 0.567579035, 0.575816103, 0.58405317, 0.592414861, 0.600776551, 0.606540206, 0.612303862, 0.618067517, 0.623831172, 0.63253556, 0.641239948, 0.649944335, 0.658648723, 0.664412378, 0.670176034, 0.675939689, 0.681703344, 0.690065034, 0.698426725, 0.706663792, 0.71490086, 0.720629564, 0.726358268, 0.732086972, 0.737815676, 0.746141797, 0.754467917, 0.762973215, 0.771478512, 0.777359094, 0.780299385, 0.783239676, 0.786179967, 0.789120258, 0.795000839, 0.803495212, 0.811989584, 0.820177302, 0.828365021, 0.833807101, 0.839249182, 0.844691262, 0.850133343, 0.858914868, 0.867696393, 0.87625126, 0.880528693, 0.884806126, 0.887763476, 0.890720826, 0.893678175, 0.896635525, 0.899592874, 0.902550224, 0.905507573, 0.908464923, 0.912736802, 0.917008681, 0.918076651, 0.91914462, 0.92021259, 0.92128056, 0.923416499, 0.925552439, 0.925552439, 0.925552439, 0.925552439, 0.925552439], degree=4))
        make_face()
        with Locations(Location((12.5, 0, 0), (0, 0, 270))):
            Circle(CROQUIS1_R, mode=Mode.SUBTRACT)
        with Locations(Location((6.25, -10.825317547, 0), (0, 0, 270))):
            Circle(CROQUIS1_R, mode=Mode.SUBTRACT)
        with Locations(Location((-6.25, -10.825317547, 0), (0, 0, 270))):
            Circle(CROQUIS1_R, mode=Mode.SUBTRACT)
        with Locations(Location((-12.5, 0, 0), (0, 0, 270))):
            Circle(CROQUIS1_R, mode=Mode.SUBTRACT)
        with Locations(Location((-6.25, 10.825317547, 0), (0, 0, 270))):
            Circle(CROQUIS1_R, mode=Mode.SUBTRACT)
        with Locations(Location((6.25, 10.825317547, 0), (0, 0, 270))):
            Circle(CROQUIS1_R, mode=Mode.SUBTRACT)
        with Locations(Location((0, 0, 0), (0, 0, 270))):
            Circle(CROQUIS1_R_2, mode=Mode.SUBTRACT)
    extrude(amount=SALIENTE_EXTRUIR1_DEPTH)


solid = part.part
